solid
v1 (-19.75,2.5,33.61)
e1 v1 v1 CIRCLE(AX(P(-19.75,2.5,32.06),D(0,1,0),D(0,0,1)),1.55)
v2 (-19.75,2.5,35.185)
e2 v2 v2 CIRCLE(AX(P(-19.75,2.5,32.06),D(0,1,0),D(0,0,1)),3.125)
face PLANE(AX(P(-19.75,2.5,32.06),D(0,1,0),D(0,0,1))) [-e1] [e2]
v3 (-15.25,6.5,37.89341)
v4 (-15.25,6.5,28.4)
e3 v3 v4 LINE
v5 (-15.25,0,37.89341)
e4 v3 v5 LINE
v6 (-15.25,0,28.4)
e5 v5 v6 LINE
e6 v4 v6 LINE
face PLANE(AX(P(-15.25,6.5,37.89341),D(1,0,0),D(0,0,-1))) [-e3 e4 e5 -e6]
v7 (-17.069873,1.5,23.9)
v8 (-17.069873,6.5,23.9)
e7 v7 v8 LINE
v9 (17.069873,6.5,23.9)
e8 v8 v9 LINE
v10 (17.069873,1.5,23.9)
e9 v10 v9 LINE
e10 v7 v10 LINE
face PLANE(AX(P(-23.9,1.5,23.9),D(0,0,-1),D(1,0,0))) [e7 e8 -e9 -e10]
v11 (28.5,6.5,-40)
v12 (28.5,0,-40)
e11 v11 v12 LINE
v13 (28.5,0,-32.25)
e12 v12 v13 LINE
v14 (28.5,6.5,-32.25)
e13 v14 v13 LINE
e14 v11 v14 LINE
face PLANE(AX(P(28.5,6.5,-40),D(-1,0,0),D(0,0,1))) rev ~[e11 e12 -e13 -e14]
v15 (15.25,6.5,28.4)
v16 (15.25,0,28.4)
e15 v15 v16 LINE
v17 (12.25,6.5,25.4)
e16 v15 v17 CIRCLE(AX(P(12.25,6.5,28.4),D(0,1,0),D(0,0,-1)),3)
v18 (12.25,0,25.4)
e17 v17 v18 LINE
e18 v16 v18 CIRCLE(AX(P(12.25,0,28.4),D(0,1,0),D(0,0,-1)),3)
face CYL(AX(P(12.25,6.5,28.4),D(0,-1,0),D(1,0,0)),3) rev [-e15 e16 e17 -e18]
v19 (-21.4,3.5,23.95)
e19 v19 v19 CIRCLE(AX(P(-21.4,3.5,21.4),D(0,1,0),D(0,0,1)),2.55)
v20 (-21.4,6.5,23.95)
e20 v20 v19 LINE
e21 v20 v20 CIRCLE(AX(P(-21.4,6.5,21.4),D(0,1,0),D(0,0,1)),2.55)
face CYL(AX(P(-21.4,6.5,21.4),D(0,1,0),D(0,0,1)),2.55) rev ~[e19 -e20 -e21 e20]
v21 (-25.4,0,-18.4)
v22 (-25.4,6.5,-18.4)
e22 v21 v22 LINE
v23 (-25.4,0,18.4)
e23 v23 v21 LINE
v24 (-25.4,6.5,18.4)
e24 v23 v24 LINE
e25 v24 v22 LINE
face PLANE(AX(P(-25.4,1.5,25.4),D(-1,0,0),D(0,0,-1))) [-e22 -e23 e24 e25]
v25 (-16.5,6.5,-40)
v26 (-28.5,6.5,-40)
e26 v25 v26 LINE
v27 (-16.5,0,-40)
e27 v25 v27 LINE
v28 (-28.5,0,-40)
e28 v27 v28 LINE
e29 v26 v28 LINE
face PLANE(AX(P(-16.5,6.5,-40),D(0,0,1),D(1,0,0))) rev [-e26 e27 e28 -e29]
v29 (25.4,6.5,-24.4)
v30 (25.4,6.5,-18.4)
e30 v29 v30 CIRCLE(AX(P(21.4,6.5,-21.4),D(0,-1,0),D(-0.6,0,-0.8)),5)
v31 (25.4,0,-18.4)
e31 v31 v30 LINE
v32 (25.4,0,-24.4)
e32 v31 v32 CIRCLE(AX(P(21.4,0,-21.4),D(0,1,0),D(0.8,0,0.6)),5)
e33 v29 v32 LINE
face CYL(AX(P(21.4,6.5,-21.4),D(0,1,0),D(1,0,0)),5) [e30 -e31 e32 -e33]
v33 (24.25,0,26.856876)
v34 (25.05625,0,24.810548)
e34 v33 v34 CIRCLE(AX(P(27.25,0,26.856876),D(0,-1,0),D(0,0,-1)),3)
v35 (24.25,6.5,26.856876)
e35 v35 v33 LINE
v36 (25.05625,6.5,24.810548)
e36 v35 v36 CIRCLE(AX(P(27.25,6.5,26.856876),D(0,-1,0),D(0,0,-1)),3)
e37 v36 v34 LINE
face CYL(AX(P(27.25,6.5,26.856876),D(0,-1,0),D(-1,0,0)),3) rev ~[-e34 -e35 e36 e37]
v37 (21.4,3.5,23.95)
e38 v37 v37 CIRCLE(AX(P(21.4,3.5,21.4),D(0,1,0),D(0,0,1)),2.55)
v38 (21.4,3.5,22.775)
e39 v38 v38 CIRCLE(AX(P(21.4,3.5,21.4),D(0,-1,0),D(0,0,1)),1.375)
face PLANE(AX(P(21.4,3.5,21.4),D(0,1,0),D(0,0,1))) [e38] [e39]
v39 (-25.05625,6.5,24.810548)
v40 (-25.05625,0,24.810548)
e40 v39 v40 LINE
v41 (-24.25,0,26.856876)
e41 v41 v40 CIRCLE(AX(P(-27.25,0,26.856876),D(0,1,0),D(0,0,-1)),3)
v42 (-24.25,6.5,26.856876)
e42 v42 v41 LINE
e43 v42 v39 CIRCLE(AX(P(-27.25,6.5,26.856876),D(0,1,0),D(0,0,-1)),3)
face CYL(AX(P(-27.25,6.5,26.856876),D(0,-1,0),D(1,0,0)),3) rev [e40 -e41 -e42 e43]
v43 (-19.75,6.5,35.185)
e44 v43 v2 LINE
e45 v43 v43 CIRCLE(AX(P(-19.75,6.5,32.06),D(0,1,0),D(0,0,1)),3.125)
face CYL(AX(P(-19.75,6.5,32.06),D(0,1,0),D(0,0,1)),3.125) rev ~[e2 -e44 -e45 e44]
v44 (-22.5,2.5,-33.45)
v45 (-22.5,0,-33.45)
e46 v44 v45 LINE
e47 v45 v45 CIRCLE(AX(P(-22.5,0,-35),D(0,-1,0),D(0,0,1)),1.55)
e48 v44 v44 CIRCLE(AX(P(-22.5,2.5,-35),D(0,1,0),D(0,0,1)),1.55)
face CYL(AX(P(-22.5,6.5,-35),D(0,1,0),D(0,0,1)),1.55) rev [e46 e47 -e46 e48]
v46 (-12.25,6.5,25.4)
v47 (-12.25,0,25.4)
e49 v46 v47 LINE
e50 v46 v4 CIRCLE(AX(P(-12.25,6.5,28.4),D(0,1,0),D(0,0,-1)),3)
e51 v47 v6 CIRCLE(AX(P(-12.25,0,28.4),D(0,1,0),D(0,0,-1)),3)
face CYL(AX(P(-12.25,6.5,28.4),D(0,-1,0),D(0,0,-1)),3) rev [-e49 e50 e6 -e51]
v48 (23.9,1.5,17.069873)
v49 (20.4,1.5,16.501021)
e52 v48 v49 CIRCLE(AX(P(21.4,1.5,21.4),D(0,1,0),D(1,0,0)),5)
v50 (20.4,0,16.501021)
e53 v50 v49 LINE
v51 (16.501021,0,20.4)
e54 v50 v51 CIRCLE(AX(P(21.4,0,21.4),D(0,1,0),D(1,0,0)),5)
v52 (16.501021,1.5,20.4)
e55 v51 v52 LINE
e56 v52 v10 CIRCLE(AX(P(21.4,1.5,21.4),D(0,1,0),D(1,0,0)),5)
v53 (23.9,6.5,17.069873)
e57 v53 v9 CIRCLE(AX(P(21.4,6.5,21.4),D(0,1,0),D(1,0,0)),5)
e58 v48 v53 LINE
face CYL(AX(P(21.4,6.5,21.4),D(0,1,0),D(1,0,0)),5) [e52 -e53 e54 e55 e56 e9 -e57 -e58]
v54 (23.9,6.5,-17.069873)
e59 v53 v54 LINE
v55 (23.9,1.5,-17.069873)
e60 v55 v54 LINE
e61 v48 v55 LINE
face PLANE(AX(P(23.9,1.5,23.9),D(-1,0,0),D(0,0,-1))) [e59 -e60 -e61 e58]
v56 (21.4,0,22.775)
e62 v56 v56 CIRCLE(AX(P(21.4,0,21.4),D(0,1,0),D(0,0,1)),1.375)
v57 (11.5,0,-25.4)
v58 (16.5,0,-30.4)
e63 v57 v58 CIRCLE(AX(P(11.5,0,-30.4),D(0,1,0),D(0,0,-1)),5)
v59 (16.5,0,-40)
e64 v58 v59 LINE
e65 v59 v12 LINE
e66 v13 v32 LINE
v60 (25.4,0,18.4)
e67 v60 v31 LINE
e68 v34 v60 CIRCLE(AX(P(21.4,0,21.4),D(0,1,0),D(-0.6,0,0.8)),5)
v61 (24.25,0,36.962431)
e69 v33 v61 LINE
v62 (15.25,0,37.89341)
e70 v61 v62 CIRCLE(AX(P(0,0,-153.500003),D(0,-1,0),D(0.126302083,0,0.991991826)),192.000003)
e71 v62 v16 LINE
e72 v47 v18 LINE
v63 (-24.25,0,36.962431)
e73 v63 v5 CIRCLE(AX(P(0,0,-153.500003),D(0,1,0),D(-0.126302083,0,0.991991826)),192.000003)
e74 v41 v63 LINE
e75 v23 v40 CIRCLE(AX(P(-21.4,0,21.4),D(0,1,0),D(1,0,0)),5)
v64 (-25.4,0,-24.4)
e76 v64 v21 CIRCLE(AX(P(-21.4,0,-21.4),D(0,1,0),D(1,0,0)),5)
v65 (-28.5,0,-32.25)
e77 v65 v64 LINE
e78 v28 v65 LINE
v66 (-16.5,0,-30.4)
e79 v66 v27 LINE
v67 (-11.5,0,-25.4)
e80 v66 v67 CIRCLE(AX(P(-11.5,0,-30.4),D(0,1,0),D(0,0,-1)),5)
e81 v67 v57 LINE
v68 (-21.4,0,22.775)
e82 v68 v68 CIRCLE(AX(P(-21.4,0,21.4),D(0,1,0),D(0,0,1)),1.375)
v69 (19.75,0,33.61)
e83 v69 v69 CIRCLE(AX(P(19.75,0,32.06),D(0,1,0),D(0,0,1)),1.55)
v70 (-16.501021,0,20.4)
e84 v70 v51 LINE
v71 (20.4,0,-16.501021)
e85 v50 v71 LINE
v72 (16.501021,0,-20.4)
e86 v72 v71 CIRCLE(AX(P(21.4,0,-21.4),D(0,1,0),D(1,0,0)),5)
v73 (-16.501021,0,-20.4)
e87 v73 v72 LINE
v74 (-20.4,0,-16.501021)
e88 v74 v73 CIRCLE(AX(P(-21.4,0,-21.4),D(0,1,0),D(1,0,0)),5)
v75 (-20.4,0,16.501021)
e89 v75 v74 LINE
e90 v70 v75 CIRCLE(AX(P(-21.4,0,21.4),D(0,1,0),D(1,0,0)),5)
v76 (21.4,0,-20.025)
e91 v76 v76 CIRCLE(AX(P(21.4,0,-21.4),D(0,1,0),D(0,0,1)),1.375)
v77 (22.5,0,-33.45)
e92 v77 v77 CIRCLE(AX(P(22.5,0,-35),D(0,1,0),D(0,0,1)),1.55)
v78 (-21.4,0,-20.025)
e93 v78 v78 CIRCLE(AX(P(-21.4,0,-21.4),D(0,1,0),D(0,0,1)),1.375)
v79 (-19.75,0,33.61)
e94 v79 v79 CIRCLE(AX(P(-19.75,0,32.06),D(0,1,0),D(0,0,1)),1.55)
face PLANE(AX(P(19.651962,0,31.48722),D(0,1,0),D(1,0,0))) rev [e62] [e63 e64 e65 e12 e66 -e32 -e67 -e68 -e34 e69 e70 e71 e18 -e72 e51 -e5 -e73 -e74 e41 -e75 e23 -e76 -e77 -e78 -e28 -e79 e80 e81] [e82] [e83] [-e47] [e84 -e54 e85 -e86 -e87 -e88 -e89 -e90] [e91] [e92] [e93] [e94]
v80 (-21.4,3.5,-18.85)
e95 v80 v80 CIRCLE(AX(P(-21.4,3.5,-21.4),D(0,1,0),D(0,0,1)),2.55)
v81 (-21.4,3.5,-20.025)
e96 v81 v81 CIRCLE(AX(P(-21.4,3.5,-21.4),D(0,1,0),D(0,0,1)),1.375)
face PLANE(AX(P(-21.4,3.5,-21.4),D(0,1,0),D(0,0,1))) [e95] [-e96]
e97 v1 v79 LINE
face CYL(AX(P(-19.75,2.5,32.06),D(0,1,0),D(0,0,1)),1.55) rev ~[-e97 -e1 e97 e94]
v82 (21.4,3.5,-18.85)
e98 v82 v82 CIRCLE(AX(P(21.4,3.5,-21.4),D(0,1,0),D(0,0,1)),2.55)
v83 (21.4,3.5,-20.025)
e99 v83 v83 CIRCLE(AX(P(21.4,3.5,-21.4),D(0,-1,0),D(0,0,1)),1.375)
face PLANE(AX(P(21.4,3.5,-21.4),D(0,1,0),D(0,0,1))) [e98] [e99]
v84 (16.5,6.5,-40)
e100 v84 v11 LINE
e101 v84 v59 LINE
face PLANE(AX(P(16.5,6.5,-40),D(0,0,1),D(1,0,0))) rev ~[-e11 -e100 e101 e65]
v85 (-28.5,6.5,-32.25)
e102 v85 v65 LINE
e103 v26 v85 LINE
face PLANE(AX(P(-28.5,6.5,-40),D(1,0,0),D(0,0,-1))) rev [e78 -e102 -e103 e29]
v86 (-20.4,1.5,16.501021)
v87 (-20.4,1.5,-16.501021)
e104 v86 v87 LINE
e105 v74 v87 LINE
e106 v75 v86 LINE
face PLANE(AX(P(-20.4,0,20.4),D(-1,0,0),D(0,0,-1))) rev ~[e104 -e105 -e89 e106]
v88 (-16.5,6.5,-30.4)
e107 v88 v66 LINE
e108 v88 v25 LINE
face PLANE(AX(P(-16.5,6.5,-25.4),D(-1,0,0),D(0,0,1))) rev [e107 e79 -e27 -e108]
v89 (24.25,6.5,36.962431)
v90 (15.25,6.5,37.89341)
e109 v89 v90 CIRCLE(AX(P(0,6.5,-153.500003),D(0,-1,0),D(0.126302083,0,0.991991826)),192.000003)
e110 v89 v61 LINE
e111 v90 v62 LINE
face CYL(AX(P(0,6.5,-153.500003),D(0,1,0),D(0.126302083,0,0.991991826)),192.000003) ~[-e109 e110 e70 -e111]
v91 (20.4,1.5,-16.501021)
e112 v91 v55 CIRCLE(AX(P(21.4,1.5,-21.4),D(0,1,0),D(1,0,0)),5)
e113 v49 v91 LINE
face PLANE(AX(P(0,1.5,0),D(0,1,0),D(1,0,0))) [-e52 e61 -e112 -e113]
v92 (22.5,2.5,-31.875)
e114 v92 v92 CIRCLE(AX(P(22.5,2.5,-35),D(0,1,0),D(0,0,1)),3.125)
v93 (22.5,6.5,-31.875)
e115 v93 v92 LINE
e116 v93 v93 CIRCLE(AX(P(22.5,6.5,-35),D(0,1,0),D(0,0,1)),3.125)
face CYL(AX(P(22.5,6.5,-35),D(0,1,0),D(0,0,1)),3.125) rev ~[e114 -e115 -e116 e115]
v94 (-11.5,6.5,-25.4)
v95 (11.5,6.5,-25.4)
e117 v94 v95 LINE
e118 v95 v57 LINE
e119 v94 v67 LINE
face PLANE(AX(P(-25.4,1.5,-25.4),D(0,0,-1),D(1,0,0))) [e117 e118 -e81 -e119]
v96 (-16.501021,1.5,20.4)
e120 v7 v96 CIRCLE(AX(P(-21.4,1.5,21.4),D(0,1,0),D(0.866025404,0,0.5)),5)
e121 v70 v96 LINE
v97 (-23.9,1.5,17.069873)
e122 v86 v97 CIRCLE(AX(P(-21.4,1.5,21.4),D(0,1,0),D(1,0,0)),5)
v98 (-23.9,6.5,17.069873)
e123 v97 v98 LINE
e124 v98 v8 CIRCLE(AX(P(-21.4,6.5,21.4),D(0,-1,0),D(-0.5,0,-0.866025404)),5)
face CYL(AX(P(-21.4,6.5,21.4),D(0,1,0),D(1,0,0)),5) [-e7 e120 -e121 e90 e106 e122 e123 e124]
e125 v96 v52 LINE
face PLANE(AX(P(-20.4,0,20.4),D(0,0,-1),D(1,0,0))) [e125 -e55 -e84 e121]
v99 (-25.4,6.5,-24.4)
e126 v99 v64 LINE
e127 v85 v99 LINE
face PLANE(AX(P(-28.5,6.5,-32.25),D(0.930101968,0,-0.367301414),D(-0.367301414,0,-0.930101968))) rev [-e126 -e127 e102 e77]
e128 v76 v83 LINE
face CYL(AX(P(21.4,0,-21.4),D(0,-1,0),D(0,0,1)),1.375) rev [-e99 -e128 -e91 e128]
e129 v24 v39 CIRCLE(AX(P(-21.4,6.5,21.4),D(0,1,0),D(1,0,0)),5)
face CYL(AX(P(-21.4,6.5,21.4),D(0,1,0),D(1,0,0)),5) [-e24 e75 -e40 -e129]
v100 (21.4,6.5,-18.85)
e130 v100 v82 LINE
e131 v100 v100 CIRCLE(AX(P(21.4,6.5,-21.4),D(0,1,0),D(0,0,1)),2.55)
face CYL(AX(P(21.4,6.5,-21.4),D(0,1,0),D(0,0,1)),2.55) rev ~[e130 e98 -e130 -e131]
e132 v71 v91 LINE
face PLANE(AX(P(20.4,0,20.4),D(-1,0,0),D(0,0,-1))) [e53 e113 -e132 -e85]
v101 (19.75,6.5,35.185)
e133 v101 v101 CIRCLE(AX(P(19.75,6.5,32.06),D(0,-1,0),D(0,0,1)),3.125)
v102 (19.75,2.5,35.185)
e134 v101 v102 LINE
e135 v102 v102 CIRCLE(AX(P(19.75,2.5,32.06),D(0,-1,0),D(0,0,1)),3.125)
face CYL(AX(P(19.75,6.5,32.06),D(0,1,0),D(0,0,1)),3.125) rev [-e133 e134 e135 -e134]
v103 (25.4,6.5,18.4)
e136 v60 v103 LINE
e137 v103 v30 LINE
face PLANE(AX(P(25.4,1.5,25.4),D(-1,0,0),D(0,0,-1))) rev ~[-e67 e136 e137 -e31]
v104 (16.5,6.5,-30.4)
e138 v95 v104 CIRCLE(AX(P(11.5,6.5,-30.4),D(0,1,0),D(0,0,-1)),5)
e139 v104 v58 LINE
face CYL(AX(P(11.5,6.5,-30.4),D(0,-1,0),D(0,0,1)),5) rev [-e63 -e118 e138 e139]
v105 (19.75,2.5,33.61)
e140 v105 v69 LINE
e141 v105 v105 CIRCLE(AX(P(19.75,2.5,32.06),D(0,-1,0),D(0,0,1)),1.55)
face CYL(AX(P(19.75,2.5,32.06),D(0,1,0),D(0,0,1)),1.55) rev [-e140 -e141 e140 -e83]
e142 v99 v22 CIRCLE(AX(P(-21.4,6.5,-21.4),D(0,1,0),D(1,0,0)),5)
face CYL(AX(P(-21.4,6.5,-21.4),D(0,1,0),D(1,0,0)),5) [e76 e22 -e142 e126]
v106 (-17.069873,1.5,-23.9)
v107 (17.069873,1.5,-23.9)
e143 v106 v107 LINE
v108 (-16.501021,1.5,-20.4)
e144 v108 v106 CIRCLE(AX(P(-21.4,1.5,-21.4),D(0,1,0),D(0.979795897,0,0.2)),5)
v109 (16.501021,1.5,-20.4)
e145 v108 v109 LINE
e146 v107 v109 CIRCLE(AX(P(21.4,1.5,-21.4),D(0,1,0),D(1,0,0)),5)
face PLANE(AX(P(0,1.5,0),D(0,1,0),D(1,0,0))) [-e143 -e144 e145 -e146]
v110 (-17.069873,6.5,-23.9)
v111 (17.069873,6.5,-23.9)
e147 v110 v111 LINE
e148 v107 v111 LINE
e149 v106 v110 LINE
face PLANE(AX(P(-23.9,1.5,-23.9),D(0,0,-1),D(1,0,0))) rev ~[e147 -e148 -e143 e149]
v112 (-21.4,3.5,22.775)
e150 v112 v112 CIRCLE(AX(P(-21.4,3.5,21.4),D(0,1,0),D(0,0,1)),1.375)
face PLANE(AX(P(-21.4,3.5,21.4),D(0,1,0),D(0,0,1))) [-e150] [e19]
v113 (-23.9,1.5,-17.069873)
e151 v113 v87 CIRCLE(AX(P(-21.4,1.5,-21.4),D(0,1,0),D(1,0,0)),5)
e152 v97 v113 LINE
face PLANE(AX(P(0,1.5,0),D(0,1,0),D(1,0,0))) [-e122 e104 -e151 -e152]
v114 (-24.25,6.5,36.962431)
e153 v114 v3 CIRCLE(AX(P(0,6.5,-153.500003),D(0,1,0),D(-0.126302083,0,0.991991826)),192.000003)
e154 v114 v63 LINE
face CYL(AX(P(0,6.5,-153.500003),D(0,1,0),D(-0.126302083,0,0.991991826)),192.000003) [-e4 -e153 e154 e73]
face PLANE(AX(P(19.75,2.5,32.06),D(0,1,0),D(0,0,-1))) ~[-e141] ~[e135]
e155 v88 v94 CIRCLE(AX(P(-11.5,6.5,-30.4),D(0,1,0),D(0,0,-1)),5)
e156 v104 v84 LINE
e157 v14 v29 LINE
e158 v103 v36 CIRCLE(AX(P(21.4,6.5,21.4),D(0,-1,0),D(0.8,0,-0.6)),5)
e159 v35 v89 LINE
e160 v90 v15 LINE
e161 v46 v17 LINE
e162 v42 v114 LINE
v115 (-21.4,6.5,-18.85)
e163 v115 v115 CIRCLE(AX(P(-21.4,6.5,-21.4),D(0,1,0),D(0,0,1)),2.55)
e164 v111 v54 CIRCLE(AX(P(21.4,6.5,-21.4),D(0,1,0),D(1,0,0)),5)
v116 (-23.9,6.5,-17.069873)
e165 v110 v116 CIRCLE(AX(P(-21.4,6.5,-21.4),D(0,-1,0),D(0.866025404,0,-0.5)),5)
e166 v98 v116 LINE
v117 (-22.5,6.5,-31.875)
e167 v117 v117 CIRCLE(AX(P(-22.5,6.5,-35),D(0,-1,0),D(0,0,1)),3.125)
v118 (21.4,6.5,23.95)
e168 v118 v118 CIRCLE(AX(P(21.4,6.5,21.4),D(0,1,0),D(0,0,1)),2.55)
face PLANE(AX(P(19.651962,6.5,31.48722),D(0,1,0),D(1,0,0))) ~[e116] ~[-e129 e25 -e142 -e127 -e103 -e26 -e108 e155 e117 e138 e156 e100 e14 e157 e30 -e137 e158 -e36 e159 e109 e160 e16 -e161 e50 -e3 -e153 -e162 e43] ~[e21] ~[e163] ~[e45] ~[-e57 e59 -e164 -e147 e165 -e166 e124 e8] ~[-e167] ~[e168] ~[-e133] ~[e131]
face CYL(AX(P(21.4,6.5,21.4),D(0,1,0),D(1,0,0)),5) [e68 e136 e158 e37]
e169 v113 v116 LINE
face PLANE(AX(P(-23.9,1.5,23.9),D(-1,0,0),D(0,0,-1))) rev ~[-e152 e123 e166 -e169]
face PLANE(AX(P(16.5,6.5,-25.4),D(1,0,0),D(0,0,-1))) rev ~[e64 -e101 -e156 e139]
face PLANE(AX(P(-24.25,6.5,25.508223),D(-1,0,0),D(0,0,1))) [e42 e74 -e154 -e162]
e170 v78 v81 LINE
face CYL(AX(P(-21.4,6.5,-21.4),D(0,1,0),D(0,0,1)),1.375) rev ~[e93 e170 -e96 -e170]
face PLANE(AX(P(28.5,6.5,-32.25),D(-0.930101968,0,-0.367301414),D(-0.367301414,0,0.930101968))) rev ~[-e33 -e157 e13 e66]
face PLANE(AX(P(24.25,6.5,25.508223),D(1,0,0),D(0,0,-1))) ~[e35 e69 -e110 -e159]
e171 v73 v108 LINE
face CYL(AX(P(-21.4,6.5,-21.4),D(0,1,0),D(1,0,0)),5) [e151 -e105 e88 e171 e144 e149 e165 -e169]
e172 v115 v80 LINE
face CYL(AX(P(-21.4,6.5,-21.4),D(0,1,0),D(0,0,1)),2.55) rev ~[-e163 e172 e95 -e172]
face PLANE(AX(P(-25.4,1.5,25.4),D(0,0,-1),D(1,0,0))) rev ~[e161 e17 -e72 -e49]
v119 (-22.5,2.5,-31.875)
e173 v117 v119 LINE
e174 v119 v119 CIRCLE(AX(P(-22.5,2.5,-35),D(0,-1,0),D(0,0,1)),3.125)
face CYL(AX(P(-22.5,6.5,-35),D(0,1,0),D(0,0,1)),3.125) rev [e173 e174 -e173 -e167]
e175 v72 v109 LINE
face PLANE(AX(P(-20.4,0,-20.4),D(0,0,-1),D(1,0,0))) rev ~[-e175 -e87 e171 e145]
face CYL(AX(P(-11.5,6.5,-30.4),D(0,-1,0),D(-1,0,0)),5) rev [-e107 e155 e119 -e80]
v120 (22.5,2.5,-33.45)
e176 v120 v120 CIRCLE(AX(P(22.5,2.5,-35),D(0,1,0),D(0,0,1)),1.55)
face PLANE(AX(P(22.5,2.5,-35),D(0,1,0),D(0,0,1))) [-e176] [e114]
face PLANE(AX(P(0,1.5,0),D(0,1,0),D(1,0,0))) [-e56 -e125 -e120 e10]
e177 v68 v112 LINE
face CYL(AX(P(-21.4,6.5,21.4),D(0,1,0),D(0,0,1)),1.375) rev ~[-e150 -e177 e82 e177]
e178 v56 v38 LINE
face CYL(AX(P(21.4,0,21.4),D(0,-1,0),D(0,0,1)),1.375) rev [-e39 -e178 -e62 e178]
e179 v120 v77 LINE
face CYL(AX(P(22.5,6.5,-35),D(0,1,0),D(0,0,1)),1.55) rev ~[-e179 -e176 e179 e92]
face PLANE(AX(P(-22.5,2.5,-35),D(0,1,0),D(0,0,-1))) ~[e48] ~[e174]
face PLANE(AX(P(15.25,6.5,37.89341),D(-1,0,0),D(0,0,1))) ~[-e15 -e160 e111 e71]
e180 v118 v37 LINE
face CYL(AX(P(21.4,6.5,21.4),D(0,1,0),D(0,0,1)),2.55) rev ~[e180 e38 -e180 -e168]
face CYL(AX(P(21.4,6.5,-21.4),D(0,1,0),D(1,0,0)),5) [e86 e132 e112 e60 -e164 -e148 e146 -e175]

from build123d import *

# Parameters (mm, degrees)
SKETCH1_W           = 50.8
SKETCH1_H           = 50.8
SKETCH1_R           = 1.375
SKETCH1_W_2         = 40.8
SKETCH1_H_2         = 40.8
BOSS_EXTRUDE1_DEPTH = 1.5
SKETCH2_W           = 50.8
SKETCH2_H           = 50.8
SKETCH2_W_2         = 47.8
SKETCH2_H_2         = 47.8
BOSS_EXTRUDE2_DEPTH = 5
FILLET2_R           = 3
BOSS_EXTRUDE3_REACH = 38.504
SKETCH5_R           = 5
SKETCH5_R_2         = 1.375
SKETCH6_R           = 2.55
CUT_EXTRUDE1_DEPTH  = 3
SKETCH7_R           = 1.55
BOSS_EXTRUDE4_DEPTH = 6.5
SKETCH8_R           = 3.125
CUT_EXTRUDE2_DEPTH  = 4
FILLET3_R           = 5
BOSS_EXTRUDE5_DEPTH = 6.5
SKETCH10_R          = 3.125
CUT_EXTRUDE3_DEPTH  = 4
SKETCH11_R          = 1.55
CUT_EXTRUDE4_DEPTH  = 50.27727671
FILLET4_R           = 3


with BuildPart() as part:
    # Sketch1 → Boss-Extrude1 (new body)
    with BuildSketch(Plane(origin=(0, 0, 0), x_dir=(1, 0, 0), z_dir=(0, 1, 0))):
        Rectangle(SKETCH1_W, SKETCH1_H)
        with Locations(Location((-21.4, 21.4, 0), (0, 0, 270))):
            Circle(SKETCH1_R, mode=Mode.SUBTRACT)
        with Locations(Location((21.4, 21.4, 0), (0, 0, 270))):
            Circle(SKETCH1_R, mode=Mode.SUBTRACT)
        with Locations(Location((21.4, -21.4, 0), (0, 0, 270))):
            Circle(SKETCH1_R, mode=Mode.SUBTRACT)
        with Locations(Location((-21.4, -21.4, 0), (0, 0, 270))):
            Circle(SKETCH1_R, mode=Mode.SUBTRACT)
        Rectangle(SKETCH1_W_2, SKETCH1_H_2, mode=Mode.SUBTRACT)
    extrude(amount=BOSS_EXTRUDE1_DEPTH)

    # Sketch2 → Boss-Extrude2 (add)
    with BuildSketch(Plane(origin=(0, 1.5, 0), x_dir=(1, 0, 0), z_dir=(0, 1, 0))):
        Rectangle(SKETCH2_W, SKETCH2_H)
        Rectangle(SKETCH2_W_2, SKETCH2_H_2, mode=Mode.SUBTRACT)
    extrude(amount=BOSS_EXTRUDE2_DEPTH)

    # Fillet2
    fillet2_edges = [part.edges().sort_by_distance(p)[0] for p in [
        (23.9, 4, -23.9),
        (-23.9, 4, -23.9),
        (-23.9, 4, 23.9),
        (23.9, 4, 23.9),
        (25.4, 3.25, 25.4),
        (-25.4, 3.25, 25.4),
        (-25.4, 3.25, -25.4),
        (25.4, 3.25, -25.4),
    ]]
    fillet(fillet2_edges, radius=FILLET2_R)

    # Boss-Extrude3: up to this face of the body (flat: up to its plane)
    boss_extrude3_end = Plane(part.part.faces().sort_by_distance((0, 0, -24.68157951))[0])
    # Sketch5 → Boss-Extrude3 (add, up to the picked face)
    with BuildSketch(Plane(origin=(0, 6.5, 0), x_dir=(1, 0, 0), z_dir=(0, 1, 0)), mode=Mode.PRIVATE) as boss_extrude3_sk1:
        with Locations((-21.4, 21.4)):
            Circle(SKETCH5_R)
        with Locations(Location((-21.4, 21.4, 0), (0, 0, 270))):
            Circle(SKETCH5_R_2, mode=Mode.SUBTRACT)
    boss_extrude3_tool1 = split(extrude(boss_extrude3_sk1.sketch, amount=-BOSS_EXTRUDE3_REACH, mode=Mode.PRIVATE), bisect_by=boss_extrude3_end, keep=Keep.BOTH, mode=Mode.PRIVATE)
    # Sketch5 → Boss-Extrude3 (add, up to the picked face)
    with BuildSketch(Plane(origin=(0, 6.5, 0), x_dir=(1, 0, 0), z_dir=(0, 1, 0)), mode=Mode.PRIVATE) as boss_extrude3_sk2:
        with Locations((21.4, 21.4)):
            Circle(SKETCH5_R)
        with Locations(Location((21.4, 21.4, 0), (0, 0, 270))):
            Circle(SKETCH5_R_2, mode=Mode.SUBTRACT)
    boss_extrude3_tool2 = split(extrude(boss_extrude3_sk2.sketch, amount=-BOSS_EXTRUDE3_REACH, mode=Mode.PRIVATE), bisect_by=boss_extrude3_end, keep=Keep.BOTH, mode=Mode.PRIVATE)
    # Sketch5 → Boss-Extrude3 (add, up to the picked face)
    with BuildSketch(Plane(origin=(0, 6.5, 0), x_dir=(1, 0, 0), z_dir=(0, 1, 0)), mode=Mode.PRIVATE) as boss_extrude3_sk3:
        with Locations((21.4, -21.4)):
            Circle(SKETCH5_R)
        with Locations(Location((21.4, -21.4, 0), (0, 0, 270))):
            Circle(SKETCH5_R_2, mode=Mode.SUBTRACT)
    boss_extrude3_tool3 = split(extrude(boss_extrude3_sk3.sketch, amount=-BOSS_EXTRUDE3_REACH, mode=Mode.PRIVATE), bisect_by=boss_extrude3_end, keep=Keep.BOTH, mode=Mode.PRIVATE)
    # Sketch5 → Boss-Extrude3 (add, up to the picked face)
    with BuildSketch(Plane(origin=(0, 6.5, 0), x_dir=(1, 0, 0), z_dir=(0, 1, 0)), mode=Mode.PRIVATE) as boss_extrude3_sk4:
        with Locations((-21.4, -21.4)):
            Circle(SKETCH5_R)
        with Locations(Location((-21.4, -21.4, 0), (0, 0, 270))):
            Circle(SKETCH5_R_2, mode=Mode.SUBTRACT)
    boss_extrude3_tool4 = split(extrude(boss_extrude3_sk4.sketch, amount=-BOSS_EXTRUDE3_REACH, mode=Mode.PRIVATE), bisect_by=boss_extrude3_end, keep=Keep.BOTH, mode=Mode.PRIVATE)
    add(boss_extrude3_tool1.solids().sort_by(Axis((-26.258579, 6.5, -21.4), (0, -1, 0)))[0])
    add(boss_extrude3_tool2.solids().sort_by(Axis((16.541421, 6.5, -21.4), (0, -1, 0)))[0])
    add(boss_extrude3_tool3.solids().sort_by(Axis((16.541421, 6.5, 21.4), (0, -1, 0)))[0])
    add(boss_extrude3_tool4.solids().sort_by(Axis((-26.258579, 6.5, 21.4), (0, -1, 0)))[0])

    # Sketch6 → Cut-Extrude1 (cut)
    with BuildSketch(Plane(origin=(0, 6.5, 0), x_dir=(1, 0, 0), z_dir=(0, 1, 0))):
        with Locations(Location((-21.4, 21.4, 0), (0, 0, 270))):
            Circle(SKETCH6_R)
        with Locations(Location((21.4, 21.4, 0), (0, 0, 270))):
            Circle(SKETCH6_R)
        with Locations(Location((-21.4, -21.4, 0), (0, 0, 270))):
            Circle(SKETCH6_R)
        with Locations(Location((21.4, -21.4, 0), (0, 0, 270))):
            Circle(SKETCH6_R)
    extrude(amount=-CUT_EXTRUDE1_DEPTH, mode=Mode.SUBTRACT)

    # Sketch7 → Boss-Extrude4 (add)
    with BuildSketch(Plane(origin=(0, 6.5, 0), x_dir=(1, 0, 0), z_dir=(0, 1, 0))):
        with BuildLine():
            Line((16.5, 25.4), (16.5, 40))
            Line((16.5, 40), (28.5, 40))
            Line((28.5, 40), (28.5, 32.25))
            Line((28.5, 32.25), (25.4, 24.4))
            ThreePointArc((25.4, 24.4), (22.107106781, 26.349747468), (18.4, 25.4))
            Line((18.4, 25.4), (16.5, 25.4))
        make_face()
        with Locations(Location((22.5, 35, 0), (0, 0, 270))):
            Circle(SKETCH7_R, mode=Mode.SUBTRACT)
    boss_extrude4 = extrude(amount=-BOSS_EXTRUDE4_DEPTH)

    # Sketch8 → Cut-Extrude2 (cut)
    with BuildSketch(Plane(origin=(0, 6.5, 0), x_dir=(1, 0, 0), z_dir=(0, 1, 0))):
        with Locations(Location((22.5, 35, 0), (0, 0, 270))):
            Circle(SKETCH8_R)
    cut_extrude2 = extrude(amount=-CUT_EXTRUDE2_DEPTH, mode=Mode.SUBTRACT)

    # Mirror1: Boss-Extrude4, Cut-Extrude2 across plane
    add(boss_extrude4.mirror(Plane(origin=(0, 0, 0), x_dir=(0, 0, 1), z_dir=(1, 0, 0))))
    add(cut_extrude2.mirror(Plane(origin=(0, 0, 0), x_dir=(0, 0, 1), z_dir=(1, 0, 0))), mode=Mode.SUBTRACT)

    # Fillet3
    fillet3_edges = [part.edges().sort_by_distance(p)[0] for p in [
        (16.5, 3.25, -25.4),
        (-16.5, 3.25, -25.4),
    ]]
    fillet(fillet3_edges, radius=FILLET3_R)

    # Sketch9 → Boss-Extrude5 (add)
    with BuildSketch(Plane(origin=(0, 6.5, 0), x_dir=(1, 0, 0), z_dir=(0, 1, 0))):
        with BuildLine():
            Line((-24.25, -25.50822346), (-24.25, -36.962430679))
            ThreePointArc((-24.25, -36.962430679), (-19.755484827, -37.480943602), (-15.25, -37.893410284))
            Line((-15.25, -37.893410284), (-15.25, -25.4))
            Line((-15.25, -25.4), (-18.4, -25.4))
            ThreePointArc((-18.4, -25.4), (-21.30751714, -26.399144619), (-24.25, -25.50822346))
        make_face()
    boss_extrude5 = extrude(amount=-BOSS_EXTRUDE5_DEPTH)

    # Sketch10 → Cut-Extrude3 (cut)
    with BuildSketch(Plane(origin=(0, 6.5, 0), x_dir=(1, 0, 0), z_dir=(0, 1, 0))):
        with Locations(Location((-19.75, -32.06, 0), (0, 0, 270))):
            Circle(SKETCH10_R)
    cut_extrude3 = extrude(amount=-CUT_EXTRUDE3_DEPTH, mode=Mode.SUBTRACT)

    # Sketch11 → Cut-Extrude4 (cut, through all)
    with BuildSketch(Plane(origin=(0, 2.5, 0), x_dir=(1, 0, 0), z_dir=(0, 1, 0))):
        with Locations(Location((-19.75, -32.06, 0), (0, 0, 270))):
            Circle(SKETCH11_R)
    cut_extrude4 = extrude(amount=-CUT_EXTRUDE4_DEPTH, mode=Mode.SUBTRACT)

    # Mirror2: Boss-Extrude5, Cut-Extrude3, Cut-Extrude4 across plane
    add(boss_extrude5.mirror(Plane(origin=(0, 0, 0), x_dir=(0, 0, 1), z_dir=(1, 0, 0))))
    add(cut_extrude3.mirror(Plane(origin=(0, 0, 0), x_dir=(0, 0, 1), z_dir=(1, 0, 0))), mode=Mode.SUBTRACT)
    add(cut_extrude4.mirror(Plane(origin=(0, 0, 0), x_dir=(0, 0, 1), z_dir=(1, 0, 0))), mode=Mode.SUBTRACT)

    # Fillet4
    fillet4_edges = [part.edges().sort_by_distance(p)[0] for p in [
        (-24.25, 3.25, 25.50822346),
        (-15.25, 3.25, 25.4),
        (15.25, 3.25, 25.4),
        (24.25, 3.25, 25.50822346),
    ]]
    fillet(fillet4_edges, radius=FILLET4_R)


solid = part.part
